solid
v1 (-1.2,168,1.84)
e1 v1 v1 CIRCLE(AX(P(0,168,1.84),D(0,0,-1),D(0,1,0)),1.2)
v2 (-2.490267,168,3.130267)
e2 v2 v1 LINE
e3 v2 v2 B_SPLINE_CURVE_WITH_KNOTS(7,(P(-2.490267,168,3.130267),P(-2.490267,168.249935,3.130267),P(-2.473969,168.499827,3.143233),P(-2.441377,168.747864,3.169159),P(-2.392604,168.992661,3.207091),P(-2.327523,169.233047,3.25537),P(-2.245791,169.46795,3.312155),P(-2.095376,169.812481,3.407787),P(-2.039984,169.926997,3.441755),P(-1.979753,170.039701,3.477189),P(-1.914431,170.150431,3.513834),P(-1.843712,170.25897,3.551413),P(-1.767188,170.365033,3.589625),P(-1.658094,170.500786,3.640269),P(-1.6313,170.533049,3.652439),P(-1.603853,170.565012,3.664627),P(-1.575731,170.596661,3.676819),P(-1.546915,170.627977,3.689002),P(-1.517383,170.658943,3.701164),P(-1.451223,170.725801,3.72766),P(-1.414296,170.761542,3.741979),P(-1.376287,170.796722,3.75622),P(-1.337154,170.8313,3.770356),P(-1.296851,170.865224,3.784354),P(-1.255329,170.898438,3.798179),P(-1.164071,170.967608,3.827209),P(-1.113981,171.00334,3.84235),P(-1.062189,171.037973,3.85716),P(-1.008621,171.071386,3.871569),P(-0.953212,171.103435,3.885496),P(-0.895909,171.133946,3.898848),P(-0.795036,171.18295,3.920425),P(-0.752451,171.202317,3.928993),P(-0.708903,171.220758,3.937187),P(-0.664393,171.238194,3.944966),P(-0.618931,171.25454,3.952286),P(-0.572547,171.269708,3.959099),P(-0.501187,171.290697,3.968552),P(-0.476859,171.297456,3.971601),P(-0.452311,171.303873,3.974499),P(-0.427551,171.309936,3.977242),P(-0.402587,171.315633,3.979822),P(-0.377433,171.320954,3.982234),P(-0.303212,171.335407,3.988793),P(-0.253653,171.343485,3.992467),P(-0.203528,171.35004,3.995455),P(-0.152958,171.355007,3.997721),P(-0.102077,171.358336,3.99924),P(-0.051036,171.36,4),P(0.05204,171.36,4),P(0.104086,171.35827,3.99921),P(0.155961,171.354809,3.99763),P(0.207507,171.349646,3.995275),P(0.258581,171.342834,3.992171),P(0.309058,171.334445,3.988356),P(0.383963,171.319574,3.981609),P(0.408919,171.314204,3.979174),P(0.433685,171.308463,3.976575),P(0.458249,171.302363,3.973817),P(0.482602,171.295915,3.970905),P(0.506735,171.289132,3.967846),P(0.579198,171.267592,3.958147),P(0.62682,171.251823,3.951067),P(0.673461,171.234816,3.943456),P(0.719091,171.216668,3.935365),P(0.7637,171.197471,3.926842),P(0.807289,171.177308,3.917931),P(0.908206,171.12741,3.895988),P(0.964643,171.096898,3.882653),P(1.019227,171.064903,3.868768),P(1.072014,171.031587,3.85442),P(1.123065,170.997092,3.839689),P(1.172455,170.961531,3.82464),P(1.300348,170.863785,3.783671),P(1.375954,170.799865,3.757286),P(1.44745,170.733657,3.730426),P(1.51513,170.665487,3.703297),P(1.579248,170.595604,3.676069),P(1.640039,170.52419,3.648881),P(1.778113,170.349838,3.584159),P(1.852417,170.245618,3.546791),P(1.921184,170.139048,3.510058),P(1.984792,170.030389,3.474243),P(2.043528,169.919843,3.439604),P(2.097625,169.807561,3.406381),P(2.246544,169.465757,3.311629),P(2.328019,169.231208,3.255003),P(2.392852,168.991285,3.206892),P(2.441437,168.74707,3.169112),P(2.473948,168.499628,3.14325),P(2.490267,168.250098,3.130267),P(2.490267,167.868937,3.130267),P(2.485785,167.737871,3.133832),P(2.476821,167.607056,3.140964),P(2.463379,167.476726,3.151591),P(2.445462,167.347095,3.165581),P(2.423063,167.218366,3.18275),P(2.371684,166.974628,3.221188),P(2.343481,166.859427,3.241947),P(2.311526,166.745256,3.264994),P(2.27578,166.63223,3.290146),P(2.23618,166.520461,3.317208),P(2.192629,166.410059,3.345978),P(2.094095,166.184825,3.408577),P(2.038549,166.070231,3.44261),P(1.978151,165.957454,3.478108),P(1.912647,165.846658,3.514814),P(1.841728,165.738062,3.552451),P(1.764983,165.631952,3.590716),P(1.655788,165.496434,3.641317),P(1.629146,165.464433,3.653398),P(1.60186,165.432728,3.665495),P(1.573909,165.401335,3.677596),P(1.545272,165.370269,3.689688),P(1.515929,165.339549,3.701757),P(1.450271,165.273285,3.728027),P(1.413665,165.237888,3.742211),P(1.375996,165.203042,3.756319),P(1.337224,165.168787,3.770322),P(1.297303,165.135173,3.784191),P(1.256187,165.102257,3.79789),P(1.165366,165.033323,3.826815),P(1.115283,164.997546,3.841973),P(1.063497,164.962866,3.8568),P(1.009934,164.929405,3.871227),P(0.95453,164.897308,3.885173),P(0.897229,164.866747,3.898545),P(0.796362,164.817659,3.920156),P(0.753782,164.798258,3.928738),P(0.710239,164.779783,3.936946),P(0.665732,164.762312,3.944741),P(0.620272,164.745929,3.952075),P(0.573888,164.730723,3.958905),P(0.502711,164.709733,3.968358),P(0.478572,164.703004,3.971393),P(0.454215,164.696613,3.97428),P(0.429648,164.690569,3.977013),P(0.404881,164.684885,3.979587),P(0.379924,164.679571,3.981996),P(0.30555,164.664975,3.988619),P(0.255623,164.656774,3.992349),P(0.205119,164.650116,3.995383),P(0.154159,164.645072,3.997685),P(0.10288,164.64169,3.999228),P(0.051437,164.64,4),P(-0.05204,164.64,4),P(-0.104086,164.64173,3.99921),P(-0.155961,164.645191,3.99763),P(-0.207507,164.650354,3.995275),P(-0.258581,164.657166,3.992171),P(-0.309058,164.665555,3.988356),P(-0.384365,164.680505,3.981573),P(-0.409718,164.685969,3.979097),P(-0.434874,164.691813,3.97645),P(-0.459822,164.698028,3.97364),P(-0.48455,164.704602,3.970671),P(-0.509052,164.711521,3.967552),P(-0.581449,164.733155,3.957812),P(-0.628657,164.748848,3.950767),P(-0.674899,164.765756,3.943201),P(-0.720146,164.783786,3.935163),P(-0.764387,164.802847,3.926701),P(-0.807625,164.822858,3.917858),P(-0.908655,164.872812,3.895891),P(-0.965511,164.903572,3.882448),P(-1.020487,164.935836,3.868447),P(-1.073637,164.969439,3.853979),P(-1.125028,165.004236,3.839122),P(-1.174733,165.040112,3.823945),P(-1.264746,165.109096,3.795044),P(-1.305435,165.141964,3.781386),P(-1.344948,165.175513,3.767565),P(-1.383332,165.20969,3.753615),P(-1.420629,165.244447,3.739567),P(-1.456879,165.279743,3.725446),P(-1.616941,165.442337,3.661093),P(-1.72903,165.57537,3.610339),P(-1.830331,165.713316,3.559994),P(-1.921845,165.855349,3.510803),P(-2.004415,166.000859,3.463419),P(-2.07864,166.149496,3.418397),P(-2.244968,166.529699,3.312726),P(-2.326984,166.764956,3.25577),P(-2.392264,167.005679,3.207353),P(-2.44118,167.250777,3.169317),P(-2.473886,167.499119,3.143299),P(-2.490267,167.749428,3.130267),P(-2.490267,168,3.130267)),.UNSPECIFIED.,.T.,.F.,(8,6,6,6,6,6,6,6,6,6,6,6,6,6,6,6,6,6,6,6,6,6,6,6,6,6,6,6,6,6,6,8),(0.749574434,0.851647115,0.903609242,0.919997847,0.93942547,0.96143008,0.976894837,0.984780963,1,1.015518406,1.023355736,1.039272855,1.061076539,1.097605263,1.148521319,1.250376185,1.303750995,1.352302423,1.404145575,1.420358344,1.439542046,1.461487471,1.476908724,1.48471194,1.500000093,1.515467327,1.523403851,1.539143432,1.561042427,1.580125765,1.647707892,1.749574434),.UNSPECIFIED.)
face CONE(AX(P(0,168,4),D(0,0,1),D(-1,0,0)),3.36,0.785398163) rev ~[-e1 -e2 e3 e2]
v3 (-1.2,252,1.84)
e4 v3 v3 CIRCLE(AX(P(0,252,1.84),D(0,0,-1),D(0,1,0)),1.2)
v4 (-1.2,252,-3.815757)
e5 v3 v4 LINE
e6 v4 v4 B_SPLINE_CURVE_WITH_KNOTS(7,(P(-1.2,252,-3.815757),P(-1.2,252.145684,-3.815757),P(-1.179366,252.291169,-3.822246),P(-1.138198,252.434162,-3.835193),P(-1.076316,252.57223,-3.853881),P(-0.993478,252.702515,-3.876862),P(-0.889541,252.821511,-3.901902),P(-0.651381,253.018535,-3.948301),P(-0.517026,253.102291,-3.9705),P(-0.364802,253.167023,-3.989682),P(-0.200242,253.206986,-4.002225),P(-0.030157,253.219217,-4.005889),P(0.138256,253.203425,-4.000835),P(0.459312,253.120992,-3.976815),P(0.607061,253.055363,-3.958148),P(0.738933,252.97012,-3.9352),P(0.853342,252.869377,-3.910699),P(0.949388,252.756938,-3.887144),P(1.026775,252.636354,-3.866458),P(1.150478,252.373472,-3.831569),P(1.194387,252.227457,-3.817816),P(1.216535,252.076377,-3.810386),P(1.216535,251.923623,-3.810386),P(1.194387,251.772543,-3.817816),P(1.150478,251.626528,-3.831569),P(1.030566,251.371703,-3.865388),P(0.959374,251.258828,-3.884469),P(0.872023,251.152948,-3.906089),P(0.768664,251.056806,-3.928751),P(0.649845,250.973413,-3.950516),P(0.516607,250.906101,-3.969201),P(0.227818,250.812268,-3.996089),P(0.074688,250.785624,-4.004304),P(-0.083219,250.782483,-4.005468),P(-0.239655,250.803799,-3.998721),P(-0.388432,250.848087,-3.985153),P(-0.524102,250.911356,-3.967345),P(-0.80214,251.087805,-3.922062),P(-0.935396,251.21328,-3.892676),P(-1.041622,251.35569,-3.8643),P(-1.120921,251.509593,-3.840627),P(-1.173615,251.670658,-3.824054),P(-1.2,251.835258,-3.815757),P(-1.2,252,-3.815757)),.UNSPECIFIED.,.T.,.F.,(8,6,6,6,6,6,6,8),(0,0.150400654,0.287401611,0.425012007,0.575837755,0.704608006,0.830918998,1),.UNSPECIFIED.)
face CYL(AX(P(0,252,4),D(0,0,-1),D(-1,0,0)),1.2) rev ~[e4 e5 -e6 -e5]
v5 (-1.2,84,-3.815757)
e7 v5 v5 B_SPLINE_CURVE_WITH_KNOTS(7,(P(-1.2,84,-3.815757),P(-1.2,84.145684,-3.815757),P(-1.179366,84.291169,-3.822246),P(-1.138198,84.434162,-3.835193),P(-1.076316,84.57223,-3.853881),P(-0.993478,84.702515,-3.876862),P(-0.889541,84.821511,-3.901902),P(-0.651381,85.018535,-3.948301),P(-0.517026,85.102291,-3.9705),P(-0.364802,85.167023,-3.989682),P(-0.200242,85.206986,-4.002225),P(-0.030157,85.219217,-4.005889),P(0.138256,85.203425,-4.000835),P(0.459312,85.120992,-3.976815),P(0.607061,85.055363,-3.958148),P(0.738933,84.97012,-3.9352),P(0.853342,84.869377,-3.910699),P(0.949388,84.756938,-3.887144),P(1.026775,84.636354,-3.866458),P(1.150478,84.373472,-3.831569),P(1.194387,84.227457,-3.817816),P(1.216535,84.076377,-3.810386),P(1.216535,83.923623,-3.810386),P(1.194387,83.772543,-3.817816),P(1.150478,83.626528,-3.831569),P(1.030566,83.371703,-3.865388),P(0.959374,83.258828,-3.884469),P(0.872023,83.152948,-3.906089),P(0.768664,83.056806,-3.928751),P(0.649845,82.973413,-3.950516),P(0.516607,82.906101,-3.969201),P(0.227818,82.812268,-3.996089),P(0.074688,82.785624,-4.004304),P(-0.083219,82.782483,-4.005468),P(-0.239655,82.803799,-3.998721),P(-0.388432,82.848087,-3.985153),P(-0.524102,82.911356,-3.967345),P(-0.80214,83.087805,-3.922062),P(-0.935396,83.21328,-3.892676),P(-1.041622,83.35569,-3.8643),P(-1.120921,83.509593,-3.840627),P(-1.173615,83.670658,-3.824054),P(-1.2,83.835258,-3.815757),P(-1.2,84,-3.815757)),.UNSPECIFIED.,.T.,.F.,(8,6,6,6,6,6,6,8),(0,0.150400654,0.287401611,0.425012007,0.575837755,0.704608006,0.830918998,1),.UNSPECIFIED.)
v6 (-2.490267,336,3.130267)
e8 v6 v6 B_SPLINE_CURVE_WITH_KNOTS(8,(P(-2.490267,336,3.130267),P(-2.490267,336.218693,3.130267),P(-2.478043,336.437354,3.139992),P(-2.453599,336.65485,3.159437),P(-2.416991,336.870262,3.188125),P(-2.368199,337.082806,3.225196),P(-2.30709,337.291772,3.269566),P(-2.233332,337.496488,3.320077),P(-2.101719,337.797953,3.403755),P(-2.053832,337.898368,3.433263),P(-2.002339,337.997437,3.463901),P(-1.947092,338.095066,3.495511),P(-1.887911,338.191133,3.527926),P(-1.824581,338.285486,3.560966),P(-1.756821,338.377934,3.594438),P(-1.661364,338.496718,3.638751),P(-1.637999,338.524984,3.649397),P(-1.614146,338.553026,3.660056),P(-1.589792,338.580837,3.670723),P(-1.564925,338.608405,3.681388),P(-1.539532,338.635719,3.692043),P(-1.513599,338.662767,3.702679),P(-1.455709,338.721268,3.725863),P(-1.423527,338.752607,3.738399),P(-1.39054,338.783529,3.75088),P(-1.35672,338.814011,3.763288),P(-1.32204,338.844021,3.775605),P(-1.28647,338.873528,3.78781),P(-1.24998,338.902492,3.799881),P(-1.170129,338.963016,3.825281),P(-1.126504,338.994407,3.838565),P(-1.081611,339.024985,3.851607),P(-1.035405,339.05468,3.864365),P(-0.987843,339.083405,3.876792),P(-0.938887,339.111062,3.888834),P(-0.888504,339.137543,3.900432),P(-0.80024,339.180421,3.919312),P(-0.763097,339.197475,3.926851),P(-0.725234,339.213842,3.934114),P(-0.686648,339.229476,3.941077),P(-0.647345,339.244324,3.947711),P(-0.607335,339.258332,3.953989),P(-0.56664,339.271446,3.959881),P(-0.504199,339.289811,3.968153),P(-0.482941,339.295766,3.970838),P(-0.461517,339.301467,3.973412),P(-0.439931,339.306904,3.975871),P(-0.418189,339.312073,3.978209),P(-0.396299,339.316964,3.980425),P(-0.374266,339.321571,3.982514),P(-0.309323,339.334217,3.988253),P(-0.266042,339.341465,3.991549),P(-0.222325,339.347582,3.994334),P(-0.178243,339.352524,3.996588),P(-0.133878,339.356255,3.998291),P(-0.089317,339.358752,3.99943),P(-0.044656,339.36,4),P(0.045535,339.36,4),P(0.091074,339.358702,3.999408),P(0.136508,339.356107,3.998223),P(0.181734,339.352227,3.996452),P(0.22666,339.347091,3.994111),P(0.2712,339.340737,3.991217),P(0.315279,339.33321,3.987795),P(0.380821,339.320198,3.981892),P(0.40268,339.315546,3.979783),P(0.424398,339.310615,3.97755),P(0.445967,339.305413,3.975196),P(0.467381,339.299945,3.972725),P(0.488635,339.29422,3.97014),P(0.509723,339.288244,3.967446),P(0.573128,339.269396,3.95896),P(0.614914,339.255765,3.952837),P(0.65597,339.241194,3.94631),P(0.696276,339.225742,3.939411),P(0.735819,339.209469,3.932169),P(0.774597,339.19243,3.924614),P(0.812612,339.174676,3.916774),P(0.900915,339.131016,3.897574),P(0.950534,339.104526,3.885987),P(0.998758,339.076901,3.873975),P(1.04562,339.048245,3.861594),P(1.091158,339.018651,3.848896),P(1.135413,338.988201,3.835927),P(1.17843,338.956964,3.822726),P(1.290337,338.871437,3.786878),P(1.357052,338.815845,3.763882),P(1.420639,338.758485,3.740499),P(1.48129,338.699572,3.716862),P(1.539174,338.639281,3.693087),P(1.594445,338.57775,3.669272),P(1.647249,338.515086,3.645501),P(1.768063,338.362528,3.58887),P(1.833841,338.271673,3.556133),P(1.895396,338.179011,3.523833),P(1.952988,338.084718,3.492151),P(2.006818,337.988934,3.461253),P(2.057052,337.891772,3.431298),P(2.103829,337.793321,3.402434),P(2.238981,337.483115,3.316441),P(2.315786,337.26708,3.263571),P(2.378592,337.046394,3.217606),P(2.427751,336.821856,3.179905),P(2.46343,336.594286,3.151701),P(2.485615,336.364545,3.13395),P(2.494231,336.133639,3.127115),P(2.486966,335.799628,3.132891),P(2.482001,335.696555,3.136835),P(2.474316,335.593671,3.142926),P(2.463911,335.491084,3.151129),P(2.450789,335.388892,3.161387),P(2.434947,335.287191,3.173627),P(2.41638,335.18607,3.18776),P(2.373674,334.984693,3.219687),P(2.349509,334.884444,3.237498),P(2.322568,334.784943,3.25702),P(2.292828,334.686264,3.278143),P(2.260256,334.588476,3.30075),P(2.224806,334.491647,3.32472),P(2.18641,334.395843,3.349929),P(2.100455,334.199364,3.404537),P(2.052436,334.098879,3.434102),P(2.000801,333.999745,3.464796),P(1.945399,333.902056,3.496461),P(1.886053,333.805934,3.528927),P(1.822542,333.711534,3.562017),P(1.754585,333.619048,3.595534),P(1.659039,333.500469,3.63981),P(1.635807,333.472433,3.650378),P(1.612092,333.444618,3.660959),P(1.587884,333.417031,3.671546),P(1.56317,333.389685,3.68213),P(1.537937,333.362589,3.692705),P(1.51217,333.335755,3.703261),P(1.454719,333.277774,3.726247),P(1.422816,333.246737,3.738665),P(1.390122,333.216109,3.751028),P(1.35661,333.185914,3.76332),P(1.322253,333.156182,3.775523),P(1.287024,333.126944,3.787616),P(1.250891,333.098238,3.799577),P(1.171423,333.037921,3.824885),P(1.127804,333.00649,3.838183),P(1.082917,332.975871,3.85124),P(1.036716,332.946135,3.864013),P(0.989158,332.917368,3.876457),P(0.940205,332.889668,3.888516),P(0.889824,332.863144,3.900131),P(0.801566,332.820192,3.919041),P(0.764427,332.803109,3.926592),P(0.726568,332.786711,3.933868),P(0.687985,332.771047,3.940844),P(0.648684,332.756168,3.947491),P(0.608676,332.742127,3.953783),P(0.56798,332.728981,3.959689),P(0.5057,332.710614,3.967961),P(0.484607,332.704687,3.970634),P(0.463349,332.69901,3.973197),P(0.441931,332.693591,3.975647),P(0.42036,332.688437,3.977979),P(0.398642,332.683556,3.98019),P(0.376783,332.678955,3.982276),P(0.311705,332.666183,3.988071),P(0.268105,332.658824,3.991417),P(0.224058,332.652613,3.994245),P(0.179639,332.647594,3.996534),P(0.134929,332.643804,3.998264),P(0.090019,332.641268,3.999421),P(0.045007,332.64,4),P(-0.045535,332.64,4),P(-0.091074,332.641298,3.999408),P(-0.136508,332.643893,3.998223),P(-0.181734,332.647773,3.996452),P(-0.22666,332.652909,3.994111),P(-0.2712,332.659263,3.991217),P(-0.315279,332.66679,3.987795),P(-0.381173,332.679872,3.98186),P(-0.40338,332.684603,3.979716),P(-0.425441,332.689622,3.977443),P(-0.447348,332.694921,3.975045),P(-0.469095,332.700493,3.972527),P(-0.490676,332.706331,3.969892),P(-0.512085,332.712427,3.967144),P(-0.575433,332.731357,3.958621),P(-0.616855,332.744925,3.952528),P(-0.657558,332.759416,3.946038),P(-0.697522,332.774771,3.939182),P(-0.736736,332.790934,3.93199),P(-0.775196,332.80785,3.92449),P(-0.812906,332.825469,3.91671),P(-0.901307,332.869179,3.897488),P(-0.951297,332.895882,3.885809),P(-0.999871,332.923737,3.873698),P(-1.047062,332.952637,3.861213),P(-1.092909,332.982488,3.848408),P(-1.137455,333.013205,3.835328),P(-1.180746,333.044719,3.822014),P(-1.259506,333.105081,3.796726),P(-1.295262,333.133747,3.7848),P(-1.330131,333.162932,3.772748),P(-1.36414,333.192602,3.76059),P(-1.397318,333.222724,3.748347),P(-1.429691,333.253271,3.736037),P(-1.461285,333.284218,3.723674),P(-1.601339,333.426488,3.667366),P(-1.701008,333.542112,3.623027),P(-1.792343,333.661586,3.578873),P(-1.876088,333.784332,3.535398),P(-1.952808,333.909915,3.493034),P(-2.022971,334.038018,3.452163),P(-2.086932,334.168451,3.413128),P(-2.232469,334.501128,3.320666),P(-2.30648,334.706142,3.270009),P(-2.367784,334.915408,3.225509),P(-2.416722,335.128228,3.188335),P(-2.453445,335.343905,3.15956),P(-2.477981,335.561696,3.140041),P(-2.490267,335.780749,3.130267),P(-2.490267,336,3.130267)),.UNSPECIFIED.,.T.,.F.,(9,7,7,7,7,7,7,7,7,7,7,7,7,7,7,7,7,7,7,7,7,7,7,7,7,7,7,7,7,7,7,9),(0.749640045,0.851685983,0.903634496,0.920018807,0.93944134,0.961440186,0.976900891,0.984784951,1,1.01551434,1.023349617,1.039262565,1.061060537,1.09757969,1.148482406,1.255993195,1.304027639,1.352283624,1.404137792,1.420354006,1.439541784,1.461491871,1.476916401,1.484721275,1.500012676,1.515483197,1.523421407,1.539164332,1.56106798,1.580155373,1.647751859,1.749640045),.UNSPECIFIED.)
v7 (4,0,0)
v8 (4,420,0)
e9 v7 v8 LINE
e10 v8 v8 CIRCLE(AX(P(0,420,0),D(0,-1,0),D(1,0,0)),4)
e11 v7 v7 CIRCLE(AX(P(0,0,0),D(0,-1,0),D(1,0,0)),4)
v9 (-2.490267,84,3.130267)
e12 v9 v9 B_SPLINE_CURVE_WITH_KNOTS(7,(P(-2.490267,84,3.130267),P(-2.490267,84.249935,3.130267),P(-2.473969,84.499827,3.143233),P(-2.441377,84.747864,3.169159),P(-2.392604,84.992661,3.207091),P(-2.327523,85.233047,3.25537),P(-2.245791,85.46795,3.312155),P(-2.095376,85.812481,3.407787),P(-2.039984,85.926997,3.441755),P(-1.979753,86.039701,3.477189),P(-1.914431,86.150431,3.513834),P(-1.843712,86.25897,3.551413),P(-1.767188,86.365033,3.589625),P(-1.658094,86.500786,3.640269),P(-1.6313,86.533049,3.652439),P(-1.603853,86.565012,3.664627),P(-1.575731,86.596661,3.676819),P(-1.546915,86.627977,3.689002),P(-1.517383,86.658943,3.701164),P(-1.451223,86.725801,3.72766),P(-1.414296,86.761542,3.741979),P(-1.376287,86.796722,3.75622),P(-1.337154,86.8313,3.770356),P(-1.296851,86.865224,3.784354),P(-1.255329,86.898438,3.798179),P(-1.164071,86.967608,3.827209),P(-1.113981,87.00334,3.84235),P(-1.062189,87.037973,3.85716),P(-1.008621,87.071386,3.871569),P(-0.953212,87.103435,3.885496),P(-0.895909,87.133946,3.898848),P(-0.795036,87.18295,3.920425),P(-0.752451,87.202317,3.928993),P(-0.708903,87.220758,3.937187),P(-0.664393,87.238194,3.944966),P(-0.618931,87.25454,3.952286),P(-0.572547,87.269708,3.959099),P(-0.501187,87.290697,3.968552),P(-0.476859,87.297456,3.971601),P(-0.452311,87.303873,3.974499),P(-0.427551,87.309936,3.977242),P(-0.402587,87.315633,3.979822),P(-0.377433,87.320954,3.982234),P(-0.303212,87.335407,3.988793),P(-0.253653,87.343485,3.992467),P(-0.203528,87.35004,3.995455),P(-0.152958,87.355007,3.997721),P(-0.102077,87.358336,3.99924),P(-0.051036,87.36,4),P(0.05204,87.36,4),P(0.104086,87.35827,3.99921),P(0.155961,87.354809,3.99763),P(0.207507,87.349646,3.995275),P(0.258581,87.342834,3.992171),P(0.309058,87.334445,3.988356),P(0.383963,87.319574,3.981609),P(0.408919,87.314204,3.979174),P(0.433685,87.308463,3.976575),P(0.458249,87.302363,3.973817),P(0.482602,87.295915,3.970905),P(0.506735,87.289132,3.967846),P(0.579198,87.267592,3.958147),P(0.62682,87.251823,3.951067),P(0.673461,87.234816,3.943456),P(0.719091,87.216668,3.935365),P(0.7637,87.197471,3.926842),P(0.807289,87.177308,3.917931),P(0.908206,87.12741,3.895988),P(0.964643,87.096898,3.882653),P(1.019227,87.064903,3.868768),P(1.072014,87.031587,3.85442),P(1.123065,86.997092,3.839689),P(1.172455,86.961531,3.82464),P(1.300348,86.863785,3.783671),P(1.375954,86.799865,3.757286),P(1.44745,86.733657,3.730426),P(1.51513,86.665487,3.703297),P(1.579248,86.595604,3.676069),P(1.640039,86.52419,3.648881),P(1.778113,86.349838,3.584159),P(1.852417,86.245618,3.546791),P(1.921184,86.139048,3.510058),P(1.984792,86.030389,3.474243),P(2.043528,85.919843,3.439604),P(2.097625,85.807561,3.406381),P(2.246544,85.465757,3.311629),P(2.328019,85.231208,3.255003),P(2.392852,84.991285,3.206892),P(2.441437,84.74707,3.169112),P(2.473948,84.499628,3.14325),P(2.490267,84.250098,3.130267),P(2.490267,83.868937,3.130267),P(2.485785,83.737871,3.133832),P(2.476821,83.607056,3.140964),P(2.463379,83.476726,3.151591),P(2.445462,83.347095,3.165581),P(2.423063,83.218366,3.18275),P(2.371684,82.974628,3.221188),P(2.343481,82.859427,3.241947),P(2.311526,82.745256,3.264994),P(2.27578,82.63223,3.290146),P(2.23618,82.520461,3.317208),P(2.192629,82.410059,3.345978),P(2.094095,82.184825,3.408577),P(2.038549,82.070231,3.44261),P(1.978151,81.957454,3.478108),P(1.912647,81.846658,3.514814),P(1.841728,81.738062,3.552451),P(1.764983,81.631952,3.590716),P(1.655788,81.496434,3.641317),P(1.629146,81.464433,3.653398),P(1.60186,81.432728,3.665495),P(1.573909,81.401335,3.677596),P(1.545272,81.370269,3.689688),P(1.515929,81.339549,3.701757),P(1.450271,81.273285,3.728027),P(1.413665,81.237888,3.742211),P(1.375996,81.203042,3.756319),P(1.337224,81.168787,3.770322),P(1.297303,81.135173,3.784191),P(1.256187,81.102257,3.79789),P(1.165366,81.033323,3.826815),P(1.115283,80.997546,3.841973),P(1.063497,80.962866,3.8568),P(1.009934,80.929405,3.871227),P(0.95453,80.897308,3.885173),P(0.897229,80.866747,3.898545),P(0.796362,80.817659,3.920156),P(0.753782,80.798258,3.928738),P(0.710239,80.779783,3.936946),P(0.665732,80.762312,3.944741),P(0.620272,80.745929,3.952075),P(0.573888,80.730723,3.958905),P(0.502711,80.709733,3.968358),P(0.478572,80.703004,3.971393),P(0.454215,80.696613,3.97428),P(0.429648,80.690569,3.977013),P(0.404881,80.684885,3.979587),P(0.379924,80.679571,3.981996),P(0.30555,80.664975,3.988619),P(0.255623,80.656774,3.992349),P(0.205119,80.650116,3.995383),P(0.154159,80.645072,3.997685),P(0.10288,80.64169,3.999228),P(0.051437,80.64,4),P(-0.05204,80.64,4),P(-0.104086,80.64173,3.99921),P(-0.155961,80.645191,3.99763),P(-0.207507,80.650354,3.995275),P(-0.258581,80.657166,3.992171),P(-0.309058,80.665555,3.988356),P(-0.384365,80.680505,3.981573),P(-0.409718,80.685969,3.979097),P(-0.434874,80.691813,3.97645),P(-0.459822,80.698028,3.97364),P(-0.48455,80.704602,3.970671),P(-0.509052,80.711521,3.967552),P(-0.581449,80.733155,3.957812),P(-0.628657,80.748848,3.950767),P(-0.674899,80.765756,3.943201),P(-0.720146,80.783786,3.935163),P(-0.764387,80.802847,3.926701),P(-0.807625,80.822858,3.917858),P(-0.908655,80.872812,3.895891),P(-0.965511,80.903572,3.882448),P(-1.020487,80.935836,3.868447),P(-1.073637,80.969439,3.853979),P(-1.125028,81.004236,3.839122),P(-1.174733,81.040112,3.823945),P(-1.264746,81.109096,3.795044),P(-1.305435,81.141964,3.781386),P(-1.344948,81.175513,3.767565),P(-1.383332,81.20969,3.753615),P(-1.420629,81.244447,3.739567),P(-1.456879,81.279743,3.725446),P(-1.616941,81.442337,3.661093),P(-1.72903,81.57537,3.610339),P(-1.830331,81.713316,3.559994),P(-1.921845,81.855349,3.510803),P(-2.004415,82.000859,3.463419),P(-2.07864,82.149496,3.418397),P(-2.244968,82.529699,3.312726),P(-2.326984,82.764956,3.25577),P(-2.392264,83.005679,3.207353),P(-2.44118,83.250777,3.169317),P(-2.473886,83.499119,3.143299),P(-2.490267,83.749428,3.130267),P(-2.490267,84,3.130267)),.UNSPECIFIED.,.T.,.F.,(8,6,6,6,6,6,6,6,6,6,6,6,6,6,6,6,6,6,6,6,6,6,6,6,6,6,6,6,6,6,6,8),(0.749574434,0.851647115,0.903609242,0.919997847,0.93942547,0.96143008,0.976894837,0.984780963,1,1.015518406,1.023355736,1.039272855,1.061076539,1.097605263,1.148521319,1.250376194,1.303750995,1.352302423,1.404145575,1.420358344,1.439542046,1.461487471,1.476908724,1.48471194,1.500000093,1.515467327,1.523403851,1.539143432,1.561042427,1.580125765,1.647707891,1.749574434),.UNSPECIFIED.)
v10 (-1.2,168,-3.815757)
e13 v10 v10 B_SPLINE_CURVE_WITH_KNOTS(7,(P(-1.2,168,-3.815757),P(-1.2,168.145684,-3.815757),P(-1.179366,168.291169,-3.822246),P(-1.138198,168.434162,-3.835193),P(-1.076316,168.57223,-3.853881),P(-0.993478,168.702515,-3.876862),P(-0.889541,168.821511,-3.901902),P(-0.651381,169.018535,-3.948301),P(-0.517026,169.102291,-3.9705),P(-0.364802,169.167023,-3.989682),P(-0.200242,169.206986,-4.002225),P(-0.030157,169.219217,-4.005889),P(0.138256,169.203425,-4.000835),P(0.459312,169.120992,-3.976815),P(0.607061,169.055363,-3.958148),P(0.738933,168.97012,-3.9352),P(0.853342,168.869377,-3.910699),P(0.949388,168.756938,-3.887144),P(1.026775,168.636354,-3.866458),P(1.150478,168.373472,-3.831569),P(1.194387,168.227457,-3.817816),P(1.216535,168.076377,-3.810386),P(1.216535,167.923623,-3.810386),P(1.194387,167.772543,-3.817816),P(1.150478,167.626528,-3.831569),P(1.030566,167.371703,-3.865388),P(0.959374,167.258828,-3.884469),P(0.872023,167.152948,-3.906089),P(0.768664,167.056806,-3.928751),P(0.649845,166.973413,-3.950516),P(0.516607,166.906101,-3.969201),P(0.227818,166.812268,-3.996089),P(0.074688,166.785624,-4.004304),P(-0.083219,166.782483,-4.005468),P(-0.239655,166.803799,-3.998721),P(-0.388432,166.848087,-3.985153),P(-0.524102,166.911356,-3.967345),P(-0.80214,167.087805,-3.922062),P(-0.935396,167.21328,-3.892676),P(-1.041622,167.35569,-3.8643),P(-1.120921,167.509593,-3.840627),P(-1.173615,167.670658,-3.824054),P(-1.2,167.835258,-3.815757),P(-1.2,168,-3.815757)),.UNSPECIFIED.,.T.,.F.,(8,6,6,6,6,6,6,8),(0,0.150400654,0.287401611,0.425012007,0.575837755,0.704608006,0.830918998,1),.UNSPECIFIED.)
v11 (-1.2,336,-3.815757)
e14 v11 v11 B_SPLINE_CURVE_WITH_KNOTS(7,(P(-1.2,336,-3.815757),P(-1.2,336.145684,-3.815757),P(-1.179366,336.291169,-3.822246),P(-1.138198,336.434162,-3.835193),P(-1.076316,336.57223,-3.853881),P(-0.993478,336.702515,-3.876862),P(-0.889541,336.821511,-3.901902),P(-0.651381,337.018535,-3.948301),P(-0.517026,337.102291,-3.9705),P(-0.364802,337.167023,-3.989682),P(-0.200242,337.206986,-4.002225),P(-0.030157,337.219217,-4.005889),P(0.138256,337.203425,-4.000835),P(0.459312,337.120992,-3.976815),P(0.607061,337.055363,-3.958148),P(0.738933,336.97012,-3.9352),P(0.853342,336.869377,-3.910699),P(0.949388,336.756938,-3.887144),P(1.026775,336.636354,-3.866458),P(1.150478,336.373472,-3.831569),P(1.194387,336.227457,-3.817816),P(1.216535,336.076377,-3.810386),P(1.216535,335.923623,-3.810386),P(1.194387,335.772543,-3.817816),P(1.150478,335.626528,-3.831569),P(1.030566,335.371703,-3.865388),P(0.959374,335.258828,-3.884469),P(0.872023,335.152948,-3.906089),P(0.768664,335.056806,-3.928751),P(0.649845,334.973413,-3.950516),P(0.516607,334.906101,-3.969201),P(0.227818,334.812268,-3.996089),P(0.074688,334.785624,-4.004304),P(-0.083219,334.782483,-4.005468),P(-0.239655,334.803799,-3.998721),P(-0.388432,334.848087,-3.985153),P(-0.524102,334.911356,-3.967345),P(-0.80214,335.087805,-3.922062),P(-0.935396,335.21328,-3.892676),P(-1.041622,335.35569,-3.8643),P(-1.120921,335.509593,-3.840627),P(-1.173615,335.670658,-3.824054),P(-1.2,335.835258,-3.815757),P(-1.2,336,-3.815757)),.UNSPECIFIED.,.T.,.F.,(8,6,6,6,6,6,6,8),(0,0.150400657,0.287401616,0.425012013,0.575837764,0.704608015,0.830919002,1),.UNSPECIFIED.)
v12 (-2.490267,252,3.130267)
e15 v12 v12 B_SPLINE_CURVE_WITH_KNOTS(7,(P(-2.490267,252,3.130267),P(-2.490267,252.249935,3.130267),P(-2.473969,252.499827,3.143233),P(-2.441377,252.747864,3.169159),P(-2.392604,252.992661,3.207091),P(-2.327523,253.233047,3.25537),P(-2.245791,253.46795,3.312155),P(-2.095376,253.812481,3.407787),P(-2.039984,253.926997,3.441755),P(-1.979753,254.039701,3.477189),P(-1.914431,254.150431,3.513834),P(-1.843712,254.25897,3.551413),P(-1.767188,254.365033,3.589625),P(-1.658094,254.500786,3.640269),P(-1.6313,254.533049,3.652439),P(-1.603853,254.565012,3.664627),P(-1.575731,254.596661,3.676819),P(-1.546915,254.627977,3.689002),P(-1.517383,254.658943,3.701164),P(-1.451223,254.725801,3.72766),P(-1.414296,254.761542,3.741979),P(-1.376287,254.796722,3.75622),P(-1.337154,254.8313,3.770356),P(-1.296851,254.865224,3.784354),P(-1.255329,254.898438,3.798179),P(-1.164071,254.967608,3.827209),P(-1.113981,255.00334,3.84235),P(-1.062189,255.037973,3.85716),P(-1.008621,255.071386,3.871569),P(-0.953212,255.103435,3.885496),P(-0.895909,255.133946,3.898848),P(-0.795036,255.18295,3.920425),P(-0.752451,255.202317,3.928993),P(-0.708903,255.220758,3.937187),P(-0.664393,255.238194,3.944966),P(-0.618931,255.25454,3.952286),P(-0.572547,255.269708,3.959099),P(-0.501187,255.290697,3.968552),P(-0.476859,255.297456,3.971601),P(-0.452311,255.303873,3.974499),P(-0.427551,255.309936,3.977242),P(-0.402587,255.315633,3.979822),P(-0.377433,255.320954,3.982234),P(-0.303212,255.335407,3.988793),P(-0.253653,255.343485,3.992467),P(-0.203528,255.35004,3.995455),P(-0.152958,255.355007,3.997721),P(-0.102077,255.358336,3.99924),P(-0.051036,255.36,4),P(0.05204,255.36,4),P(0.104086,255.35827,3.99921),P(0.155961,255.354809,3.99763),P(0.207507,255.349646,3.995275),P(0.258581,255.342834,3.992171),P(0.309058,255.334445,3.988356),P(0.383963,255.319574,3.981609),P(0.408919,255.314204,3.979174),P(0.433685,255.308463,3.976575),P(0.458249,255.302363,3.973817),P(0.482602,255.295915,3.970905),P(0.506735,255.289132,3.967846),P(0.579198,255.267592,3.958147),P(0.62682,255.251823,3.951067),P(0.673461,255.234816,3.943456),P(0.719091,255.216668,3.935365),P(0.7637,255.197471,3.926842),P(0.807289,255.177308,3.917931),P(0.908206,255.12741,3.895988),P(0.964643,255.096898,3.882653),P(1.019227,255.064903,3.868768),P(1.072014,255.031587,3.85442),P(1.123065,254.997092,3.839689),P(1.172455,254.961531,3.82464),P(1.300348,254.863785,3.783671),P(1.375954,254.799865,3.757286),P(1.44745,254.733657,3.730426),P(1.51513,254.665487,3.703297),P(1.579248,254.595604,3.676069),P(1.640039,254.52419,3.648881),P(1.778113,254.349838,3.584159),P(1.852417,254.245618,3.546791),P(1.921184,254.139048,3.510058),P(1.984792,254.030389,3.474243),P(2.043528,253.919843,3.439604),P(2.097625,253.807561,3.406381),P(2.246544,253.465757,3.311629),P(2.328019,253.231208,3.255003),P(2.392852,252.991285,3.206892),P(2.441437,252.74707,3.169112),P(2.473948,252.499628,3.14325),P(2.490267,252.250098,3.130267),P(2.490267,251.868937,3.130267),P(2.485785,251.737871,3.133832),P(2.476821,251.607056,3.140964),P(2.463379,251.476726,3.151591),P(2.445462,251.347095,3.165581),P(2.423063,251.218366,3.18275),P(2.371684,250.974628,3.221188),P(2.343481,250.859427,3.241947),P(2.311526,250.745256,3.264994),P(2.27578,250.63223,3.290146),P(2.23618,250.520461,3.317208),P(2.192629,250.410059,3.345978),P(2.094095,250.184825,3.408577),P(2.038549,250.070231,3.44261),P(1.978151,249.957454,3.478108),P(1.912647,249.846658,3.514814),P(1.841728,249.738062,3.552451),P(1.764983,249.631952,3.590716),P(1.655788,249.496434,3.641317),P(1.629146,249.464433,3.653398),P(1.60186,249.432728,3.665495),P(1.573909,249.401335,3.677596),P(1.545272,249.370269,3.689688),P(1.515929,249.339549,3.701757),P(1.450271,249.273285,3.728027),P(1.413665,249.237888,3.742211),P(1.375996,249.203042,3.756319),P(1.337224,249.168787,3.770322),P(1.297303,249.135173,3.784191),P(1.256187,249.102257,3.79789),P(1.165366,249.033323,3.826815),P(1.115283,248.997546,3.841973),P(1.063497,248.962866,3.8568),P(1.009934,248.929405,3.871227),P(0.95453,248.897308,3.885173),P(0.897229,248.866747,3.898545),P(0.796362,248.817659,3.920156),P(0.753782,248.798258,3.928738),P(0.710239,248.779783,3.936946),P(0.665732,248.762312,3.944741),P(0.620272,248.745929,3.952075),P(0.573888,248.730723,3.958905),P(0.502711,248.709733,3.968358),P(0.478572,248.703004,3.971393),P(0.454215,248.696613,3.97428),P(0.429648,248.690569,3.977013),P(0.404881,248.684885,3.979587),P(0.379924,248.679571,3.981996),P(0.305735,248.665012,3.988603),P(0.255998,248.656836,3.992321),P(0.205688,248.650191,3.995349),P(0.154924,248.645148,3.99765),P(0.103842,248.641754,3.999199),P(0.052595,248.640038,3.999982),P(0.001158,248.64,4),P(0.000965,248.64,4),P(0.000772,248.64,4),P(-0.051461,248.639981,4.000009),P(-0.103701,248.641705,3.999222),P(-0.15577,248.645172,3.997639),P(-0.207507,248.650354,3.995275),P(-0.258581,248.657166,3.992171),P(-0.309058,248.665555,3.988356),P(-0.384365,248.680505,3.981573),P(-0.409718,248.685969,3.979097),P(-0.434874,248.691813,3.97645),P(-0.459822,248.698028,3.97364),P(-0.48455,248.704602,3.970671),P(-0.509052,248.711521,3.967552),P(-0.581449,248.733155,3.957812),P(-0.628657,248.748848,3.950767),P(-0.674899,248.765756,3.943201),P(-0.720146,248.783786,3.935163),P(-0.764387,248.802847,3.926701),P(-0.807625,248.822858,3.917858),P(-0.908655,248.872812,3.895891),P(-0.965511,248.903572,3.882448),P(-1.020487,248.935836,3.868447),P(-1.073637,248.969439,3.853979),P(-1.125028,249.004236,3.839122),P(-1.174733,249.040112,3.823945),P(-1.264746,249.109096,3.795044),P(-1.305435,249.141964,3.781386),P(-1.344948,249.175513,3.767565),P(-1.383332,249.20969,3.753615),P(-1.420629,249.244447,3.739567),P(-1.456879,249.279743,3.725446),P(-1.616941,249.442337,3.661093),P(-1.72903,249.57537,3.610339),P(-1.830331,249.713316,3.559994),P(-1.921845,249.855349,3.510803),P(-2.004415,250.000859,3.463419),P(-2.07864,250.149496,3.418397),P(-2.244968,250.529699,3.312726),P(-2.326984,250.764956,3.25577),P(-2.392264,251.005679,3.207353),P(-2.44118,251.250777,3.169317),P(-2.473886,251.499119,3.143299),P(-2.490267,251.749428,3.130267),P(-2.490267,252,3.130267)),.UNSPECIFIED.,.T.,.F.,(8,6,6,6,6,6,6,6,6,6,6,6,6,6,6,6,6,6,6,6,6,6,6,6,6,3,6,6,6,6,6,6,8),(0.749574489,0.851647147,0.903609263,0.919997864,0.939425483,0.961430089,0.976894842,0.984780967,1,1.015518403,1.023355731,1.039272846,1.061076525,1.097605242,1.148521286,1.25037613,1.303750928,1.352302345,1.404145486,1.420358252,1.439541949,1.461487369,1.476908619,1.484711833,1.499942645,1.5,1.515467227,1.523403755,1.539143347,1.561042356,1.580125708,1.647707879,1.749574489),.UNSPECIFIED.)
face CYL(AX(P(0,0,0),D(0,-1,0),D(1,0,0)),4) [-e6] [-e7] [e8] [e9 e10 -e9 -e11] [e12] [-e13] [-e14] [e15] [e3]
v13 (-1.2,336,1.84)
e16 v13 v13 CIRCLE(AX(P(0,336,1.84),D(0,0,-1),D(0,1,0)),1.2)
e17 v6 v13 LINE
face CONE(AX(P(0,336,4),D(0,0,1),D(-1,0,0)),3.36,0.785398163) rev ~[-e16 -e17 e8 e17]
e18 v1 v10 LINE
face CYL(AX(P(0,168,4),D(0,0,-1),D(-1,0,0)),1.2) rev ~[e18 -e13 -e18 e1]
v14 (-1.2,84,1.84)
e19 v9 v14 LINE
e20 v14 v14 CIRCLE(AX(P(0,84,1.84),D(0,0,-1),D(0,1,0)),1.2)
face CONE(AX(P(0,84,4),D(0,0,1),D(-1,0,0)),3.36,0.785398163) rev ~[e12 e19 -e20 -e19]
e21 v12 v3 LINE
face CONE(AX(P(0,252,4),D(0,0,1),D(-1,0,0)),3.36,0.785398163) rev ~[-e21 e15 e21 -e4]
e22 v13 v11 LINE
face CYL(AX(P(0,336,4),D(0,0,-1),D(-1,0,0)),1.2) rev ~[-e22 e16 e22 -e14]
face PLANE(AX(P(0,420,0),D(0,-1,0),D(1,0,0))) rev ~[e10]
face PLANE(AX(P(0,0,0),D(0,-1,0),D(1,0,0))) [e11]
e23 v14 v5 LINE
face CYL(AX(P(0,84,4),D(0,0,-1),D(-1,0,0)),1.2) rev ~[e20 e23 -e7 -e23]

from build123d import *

# Parameters (mm, degrees)
F0_R           = 4
F1_DEPTH       = 420
F4_D           = 2.4
F4_DEPTH       = 100
F4_CSINK_D     = 6.72
F4_CSINK_ANGLE = 90
F4_TIP         = 0.7210327428


with BuildPart() as f1:
    # F0 (on Front) → F1 (new body)
    with BuildSketch(Plane.XZ):
        Circle(F0_R)
    extrude(amount=-F1_DEPTH)

    # F4
    with Locations(Plane.XY.offset(4)):
        with Locations((0, 84), (0, 168), (0, 252), (0, 336)):
            CounterSinkHole(F4_D / 2, F4_CSINK_D / 2, depth=F4_DEPTH, counter_sink_angle=F4_CSINK_ANGLE)
            with Locations((0, 0, -(F4_DEPTH + F4_TIP / 2))):  # 118° drill point
                Cone(0, F4_D / 2, F4_TIP, mode=Mode.SUBTRACT)


solid = f1.part
